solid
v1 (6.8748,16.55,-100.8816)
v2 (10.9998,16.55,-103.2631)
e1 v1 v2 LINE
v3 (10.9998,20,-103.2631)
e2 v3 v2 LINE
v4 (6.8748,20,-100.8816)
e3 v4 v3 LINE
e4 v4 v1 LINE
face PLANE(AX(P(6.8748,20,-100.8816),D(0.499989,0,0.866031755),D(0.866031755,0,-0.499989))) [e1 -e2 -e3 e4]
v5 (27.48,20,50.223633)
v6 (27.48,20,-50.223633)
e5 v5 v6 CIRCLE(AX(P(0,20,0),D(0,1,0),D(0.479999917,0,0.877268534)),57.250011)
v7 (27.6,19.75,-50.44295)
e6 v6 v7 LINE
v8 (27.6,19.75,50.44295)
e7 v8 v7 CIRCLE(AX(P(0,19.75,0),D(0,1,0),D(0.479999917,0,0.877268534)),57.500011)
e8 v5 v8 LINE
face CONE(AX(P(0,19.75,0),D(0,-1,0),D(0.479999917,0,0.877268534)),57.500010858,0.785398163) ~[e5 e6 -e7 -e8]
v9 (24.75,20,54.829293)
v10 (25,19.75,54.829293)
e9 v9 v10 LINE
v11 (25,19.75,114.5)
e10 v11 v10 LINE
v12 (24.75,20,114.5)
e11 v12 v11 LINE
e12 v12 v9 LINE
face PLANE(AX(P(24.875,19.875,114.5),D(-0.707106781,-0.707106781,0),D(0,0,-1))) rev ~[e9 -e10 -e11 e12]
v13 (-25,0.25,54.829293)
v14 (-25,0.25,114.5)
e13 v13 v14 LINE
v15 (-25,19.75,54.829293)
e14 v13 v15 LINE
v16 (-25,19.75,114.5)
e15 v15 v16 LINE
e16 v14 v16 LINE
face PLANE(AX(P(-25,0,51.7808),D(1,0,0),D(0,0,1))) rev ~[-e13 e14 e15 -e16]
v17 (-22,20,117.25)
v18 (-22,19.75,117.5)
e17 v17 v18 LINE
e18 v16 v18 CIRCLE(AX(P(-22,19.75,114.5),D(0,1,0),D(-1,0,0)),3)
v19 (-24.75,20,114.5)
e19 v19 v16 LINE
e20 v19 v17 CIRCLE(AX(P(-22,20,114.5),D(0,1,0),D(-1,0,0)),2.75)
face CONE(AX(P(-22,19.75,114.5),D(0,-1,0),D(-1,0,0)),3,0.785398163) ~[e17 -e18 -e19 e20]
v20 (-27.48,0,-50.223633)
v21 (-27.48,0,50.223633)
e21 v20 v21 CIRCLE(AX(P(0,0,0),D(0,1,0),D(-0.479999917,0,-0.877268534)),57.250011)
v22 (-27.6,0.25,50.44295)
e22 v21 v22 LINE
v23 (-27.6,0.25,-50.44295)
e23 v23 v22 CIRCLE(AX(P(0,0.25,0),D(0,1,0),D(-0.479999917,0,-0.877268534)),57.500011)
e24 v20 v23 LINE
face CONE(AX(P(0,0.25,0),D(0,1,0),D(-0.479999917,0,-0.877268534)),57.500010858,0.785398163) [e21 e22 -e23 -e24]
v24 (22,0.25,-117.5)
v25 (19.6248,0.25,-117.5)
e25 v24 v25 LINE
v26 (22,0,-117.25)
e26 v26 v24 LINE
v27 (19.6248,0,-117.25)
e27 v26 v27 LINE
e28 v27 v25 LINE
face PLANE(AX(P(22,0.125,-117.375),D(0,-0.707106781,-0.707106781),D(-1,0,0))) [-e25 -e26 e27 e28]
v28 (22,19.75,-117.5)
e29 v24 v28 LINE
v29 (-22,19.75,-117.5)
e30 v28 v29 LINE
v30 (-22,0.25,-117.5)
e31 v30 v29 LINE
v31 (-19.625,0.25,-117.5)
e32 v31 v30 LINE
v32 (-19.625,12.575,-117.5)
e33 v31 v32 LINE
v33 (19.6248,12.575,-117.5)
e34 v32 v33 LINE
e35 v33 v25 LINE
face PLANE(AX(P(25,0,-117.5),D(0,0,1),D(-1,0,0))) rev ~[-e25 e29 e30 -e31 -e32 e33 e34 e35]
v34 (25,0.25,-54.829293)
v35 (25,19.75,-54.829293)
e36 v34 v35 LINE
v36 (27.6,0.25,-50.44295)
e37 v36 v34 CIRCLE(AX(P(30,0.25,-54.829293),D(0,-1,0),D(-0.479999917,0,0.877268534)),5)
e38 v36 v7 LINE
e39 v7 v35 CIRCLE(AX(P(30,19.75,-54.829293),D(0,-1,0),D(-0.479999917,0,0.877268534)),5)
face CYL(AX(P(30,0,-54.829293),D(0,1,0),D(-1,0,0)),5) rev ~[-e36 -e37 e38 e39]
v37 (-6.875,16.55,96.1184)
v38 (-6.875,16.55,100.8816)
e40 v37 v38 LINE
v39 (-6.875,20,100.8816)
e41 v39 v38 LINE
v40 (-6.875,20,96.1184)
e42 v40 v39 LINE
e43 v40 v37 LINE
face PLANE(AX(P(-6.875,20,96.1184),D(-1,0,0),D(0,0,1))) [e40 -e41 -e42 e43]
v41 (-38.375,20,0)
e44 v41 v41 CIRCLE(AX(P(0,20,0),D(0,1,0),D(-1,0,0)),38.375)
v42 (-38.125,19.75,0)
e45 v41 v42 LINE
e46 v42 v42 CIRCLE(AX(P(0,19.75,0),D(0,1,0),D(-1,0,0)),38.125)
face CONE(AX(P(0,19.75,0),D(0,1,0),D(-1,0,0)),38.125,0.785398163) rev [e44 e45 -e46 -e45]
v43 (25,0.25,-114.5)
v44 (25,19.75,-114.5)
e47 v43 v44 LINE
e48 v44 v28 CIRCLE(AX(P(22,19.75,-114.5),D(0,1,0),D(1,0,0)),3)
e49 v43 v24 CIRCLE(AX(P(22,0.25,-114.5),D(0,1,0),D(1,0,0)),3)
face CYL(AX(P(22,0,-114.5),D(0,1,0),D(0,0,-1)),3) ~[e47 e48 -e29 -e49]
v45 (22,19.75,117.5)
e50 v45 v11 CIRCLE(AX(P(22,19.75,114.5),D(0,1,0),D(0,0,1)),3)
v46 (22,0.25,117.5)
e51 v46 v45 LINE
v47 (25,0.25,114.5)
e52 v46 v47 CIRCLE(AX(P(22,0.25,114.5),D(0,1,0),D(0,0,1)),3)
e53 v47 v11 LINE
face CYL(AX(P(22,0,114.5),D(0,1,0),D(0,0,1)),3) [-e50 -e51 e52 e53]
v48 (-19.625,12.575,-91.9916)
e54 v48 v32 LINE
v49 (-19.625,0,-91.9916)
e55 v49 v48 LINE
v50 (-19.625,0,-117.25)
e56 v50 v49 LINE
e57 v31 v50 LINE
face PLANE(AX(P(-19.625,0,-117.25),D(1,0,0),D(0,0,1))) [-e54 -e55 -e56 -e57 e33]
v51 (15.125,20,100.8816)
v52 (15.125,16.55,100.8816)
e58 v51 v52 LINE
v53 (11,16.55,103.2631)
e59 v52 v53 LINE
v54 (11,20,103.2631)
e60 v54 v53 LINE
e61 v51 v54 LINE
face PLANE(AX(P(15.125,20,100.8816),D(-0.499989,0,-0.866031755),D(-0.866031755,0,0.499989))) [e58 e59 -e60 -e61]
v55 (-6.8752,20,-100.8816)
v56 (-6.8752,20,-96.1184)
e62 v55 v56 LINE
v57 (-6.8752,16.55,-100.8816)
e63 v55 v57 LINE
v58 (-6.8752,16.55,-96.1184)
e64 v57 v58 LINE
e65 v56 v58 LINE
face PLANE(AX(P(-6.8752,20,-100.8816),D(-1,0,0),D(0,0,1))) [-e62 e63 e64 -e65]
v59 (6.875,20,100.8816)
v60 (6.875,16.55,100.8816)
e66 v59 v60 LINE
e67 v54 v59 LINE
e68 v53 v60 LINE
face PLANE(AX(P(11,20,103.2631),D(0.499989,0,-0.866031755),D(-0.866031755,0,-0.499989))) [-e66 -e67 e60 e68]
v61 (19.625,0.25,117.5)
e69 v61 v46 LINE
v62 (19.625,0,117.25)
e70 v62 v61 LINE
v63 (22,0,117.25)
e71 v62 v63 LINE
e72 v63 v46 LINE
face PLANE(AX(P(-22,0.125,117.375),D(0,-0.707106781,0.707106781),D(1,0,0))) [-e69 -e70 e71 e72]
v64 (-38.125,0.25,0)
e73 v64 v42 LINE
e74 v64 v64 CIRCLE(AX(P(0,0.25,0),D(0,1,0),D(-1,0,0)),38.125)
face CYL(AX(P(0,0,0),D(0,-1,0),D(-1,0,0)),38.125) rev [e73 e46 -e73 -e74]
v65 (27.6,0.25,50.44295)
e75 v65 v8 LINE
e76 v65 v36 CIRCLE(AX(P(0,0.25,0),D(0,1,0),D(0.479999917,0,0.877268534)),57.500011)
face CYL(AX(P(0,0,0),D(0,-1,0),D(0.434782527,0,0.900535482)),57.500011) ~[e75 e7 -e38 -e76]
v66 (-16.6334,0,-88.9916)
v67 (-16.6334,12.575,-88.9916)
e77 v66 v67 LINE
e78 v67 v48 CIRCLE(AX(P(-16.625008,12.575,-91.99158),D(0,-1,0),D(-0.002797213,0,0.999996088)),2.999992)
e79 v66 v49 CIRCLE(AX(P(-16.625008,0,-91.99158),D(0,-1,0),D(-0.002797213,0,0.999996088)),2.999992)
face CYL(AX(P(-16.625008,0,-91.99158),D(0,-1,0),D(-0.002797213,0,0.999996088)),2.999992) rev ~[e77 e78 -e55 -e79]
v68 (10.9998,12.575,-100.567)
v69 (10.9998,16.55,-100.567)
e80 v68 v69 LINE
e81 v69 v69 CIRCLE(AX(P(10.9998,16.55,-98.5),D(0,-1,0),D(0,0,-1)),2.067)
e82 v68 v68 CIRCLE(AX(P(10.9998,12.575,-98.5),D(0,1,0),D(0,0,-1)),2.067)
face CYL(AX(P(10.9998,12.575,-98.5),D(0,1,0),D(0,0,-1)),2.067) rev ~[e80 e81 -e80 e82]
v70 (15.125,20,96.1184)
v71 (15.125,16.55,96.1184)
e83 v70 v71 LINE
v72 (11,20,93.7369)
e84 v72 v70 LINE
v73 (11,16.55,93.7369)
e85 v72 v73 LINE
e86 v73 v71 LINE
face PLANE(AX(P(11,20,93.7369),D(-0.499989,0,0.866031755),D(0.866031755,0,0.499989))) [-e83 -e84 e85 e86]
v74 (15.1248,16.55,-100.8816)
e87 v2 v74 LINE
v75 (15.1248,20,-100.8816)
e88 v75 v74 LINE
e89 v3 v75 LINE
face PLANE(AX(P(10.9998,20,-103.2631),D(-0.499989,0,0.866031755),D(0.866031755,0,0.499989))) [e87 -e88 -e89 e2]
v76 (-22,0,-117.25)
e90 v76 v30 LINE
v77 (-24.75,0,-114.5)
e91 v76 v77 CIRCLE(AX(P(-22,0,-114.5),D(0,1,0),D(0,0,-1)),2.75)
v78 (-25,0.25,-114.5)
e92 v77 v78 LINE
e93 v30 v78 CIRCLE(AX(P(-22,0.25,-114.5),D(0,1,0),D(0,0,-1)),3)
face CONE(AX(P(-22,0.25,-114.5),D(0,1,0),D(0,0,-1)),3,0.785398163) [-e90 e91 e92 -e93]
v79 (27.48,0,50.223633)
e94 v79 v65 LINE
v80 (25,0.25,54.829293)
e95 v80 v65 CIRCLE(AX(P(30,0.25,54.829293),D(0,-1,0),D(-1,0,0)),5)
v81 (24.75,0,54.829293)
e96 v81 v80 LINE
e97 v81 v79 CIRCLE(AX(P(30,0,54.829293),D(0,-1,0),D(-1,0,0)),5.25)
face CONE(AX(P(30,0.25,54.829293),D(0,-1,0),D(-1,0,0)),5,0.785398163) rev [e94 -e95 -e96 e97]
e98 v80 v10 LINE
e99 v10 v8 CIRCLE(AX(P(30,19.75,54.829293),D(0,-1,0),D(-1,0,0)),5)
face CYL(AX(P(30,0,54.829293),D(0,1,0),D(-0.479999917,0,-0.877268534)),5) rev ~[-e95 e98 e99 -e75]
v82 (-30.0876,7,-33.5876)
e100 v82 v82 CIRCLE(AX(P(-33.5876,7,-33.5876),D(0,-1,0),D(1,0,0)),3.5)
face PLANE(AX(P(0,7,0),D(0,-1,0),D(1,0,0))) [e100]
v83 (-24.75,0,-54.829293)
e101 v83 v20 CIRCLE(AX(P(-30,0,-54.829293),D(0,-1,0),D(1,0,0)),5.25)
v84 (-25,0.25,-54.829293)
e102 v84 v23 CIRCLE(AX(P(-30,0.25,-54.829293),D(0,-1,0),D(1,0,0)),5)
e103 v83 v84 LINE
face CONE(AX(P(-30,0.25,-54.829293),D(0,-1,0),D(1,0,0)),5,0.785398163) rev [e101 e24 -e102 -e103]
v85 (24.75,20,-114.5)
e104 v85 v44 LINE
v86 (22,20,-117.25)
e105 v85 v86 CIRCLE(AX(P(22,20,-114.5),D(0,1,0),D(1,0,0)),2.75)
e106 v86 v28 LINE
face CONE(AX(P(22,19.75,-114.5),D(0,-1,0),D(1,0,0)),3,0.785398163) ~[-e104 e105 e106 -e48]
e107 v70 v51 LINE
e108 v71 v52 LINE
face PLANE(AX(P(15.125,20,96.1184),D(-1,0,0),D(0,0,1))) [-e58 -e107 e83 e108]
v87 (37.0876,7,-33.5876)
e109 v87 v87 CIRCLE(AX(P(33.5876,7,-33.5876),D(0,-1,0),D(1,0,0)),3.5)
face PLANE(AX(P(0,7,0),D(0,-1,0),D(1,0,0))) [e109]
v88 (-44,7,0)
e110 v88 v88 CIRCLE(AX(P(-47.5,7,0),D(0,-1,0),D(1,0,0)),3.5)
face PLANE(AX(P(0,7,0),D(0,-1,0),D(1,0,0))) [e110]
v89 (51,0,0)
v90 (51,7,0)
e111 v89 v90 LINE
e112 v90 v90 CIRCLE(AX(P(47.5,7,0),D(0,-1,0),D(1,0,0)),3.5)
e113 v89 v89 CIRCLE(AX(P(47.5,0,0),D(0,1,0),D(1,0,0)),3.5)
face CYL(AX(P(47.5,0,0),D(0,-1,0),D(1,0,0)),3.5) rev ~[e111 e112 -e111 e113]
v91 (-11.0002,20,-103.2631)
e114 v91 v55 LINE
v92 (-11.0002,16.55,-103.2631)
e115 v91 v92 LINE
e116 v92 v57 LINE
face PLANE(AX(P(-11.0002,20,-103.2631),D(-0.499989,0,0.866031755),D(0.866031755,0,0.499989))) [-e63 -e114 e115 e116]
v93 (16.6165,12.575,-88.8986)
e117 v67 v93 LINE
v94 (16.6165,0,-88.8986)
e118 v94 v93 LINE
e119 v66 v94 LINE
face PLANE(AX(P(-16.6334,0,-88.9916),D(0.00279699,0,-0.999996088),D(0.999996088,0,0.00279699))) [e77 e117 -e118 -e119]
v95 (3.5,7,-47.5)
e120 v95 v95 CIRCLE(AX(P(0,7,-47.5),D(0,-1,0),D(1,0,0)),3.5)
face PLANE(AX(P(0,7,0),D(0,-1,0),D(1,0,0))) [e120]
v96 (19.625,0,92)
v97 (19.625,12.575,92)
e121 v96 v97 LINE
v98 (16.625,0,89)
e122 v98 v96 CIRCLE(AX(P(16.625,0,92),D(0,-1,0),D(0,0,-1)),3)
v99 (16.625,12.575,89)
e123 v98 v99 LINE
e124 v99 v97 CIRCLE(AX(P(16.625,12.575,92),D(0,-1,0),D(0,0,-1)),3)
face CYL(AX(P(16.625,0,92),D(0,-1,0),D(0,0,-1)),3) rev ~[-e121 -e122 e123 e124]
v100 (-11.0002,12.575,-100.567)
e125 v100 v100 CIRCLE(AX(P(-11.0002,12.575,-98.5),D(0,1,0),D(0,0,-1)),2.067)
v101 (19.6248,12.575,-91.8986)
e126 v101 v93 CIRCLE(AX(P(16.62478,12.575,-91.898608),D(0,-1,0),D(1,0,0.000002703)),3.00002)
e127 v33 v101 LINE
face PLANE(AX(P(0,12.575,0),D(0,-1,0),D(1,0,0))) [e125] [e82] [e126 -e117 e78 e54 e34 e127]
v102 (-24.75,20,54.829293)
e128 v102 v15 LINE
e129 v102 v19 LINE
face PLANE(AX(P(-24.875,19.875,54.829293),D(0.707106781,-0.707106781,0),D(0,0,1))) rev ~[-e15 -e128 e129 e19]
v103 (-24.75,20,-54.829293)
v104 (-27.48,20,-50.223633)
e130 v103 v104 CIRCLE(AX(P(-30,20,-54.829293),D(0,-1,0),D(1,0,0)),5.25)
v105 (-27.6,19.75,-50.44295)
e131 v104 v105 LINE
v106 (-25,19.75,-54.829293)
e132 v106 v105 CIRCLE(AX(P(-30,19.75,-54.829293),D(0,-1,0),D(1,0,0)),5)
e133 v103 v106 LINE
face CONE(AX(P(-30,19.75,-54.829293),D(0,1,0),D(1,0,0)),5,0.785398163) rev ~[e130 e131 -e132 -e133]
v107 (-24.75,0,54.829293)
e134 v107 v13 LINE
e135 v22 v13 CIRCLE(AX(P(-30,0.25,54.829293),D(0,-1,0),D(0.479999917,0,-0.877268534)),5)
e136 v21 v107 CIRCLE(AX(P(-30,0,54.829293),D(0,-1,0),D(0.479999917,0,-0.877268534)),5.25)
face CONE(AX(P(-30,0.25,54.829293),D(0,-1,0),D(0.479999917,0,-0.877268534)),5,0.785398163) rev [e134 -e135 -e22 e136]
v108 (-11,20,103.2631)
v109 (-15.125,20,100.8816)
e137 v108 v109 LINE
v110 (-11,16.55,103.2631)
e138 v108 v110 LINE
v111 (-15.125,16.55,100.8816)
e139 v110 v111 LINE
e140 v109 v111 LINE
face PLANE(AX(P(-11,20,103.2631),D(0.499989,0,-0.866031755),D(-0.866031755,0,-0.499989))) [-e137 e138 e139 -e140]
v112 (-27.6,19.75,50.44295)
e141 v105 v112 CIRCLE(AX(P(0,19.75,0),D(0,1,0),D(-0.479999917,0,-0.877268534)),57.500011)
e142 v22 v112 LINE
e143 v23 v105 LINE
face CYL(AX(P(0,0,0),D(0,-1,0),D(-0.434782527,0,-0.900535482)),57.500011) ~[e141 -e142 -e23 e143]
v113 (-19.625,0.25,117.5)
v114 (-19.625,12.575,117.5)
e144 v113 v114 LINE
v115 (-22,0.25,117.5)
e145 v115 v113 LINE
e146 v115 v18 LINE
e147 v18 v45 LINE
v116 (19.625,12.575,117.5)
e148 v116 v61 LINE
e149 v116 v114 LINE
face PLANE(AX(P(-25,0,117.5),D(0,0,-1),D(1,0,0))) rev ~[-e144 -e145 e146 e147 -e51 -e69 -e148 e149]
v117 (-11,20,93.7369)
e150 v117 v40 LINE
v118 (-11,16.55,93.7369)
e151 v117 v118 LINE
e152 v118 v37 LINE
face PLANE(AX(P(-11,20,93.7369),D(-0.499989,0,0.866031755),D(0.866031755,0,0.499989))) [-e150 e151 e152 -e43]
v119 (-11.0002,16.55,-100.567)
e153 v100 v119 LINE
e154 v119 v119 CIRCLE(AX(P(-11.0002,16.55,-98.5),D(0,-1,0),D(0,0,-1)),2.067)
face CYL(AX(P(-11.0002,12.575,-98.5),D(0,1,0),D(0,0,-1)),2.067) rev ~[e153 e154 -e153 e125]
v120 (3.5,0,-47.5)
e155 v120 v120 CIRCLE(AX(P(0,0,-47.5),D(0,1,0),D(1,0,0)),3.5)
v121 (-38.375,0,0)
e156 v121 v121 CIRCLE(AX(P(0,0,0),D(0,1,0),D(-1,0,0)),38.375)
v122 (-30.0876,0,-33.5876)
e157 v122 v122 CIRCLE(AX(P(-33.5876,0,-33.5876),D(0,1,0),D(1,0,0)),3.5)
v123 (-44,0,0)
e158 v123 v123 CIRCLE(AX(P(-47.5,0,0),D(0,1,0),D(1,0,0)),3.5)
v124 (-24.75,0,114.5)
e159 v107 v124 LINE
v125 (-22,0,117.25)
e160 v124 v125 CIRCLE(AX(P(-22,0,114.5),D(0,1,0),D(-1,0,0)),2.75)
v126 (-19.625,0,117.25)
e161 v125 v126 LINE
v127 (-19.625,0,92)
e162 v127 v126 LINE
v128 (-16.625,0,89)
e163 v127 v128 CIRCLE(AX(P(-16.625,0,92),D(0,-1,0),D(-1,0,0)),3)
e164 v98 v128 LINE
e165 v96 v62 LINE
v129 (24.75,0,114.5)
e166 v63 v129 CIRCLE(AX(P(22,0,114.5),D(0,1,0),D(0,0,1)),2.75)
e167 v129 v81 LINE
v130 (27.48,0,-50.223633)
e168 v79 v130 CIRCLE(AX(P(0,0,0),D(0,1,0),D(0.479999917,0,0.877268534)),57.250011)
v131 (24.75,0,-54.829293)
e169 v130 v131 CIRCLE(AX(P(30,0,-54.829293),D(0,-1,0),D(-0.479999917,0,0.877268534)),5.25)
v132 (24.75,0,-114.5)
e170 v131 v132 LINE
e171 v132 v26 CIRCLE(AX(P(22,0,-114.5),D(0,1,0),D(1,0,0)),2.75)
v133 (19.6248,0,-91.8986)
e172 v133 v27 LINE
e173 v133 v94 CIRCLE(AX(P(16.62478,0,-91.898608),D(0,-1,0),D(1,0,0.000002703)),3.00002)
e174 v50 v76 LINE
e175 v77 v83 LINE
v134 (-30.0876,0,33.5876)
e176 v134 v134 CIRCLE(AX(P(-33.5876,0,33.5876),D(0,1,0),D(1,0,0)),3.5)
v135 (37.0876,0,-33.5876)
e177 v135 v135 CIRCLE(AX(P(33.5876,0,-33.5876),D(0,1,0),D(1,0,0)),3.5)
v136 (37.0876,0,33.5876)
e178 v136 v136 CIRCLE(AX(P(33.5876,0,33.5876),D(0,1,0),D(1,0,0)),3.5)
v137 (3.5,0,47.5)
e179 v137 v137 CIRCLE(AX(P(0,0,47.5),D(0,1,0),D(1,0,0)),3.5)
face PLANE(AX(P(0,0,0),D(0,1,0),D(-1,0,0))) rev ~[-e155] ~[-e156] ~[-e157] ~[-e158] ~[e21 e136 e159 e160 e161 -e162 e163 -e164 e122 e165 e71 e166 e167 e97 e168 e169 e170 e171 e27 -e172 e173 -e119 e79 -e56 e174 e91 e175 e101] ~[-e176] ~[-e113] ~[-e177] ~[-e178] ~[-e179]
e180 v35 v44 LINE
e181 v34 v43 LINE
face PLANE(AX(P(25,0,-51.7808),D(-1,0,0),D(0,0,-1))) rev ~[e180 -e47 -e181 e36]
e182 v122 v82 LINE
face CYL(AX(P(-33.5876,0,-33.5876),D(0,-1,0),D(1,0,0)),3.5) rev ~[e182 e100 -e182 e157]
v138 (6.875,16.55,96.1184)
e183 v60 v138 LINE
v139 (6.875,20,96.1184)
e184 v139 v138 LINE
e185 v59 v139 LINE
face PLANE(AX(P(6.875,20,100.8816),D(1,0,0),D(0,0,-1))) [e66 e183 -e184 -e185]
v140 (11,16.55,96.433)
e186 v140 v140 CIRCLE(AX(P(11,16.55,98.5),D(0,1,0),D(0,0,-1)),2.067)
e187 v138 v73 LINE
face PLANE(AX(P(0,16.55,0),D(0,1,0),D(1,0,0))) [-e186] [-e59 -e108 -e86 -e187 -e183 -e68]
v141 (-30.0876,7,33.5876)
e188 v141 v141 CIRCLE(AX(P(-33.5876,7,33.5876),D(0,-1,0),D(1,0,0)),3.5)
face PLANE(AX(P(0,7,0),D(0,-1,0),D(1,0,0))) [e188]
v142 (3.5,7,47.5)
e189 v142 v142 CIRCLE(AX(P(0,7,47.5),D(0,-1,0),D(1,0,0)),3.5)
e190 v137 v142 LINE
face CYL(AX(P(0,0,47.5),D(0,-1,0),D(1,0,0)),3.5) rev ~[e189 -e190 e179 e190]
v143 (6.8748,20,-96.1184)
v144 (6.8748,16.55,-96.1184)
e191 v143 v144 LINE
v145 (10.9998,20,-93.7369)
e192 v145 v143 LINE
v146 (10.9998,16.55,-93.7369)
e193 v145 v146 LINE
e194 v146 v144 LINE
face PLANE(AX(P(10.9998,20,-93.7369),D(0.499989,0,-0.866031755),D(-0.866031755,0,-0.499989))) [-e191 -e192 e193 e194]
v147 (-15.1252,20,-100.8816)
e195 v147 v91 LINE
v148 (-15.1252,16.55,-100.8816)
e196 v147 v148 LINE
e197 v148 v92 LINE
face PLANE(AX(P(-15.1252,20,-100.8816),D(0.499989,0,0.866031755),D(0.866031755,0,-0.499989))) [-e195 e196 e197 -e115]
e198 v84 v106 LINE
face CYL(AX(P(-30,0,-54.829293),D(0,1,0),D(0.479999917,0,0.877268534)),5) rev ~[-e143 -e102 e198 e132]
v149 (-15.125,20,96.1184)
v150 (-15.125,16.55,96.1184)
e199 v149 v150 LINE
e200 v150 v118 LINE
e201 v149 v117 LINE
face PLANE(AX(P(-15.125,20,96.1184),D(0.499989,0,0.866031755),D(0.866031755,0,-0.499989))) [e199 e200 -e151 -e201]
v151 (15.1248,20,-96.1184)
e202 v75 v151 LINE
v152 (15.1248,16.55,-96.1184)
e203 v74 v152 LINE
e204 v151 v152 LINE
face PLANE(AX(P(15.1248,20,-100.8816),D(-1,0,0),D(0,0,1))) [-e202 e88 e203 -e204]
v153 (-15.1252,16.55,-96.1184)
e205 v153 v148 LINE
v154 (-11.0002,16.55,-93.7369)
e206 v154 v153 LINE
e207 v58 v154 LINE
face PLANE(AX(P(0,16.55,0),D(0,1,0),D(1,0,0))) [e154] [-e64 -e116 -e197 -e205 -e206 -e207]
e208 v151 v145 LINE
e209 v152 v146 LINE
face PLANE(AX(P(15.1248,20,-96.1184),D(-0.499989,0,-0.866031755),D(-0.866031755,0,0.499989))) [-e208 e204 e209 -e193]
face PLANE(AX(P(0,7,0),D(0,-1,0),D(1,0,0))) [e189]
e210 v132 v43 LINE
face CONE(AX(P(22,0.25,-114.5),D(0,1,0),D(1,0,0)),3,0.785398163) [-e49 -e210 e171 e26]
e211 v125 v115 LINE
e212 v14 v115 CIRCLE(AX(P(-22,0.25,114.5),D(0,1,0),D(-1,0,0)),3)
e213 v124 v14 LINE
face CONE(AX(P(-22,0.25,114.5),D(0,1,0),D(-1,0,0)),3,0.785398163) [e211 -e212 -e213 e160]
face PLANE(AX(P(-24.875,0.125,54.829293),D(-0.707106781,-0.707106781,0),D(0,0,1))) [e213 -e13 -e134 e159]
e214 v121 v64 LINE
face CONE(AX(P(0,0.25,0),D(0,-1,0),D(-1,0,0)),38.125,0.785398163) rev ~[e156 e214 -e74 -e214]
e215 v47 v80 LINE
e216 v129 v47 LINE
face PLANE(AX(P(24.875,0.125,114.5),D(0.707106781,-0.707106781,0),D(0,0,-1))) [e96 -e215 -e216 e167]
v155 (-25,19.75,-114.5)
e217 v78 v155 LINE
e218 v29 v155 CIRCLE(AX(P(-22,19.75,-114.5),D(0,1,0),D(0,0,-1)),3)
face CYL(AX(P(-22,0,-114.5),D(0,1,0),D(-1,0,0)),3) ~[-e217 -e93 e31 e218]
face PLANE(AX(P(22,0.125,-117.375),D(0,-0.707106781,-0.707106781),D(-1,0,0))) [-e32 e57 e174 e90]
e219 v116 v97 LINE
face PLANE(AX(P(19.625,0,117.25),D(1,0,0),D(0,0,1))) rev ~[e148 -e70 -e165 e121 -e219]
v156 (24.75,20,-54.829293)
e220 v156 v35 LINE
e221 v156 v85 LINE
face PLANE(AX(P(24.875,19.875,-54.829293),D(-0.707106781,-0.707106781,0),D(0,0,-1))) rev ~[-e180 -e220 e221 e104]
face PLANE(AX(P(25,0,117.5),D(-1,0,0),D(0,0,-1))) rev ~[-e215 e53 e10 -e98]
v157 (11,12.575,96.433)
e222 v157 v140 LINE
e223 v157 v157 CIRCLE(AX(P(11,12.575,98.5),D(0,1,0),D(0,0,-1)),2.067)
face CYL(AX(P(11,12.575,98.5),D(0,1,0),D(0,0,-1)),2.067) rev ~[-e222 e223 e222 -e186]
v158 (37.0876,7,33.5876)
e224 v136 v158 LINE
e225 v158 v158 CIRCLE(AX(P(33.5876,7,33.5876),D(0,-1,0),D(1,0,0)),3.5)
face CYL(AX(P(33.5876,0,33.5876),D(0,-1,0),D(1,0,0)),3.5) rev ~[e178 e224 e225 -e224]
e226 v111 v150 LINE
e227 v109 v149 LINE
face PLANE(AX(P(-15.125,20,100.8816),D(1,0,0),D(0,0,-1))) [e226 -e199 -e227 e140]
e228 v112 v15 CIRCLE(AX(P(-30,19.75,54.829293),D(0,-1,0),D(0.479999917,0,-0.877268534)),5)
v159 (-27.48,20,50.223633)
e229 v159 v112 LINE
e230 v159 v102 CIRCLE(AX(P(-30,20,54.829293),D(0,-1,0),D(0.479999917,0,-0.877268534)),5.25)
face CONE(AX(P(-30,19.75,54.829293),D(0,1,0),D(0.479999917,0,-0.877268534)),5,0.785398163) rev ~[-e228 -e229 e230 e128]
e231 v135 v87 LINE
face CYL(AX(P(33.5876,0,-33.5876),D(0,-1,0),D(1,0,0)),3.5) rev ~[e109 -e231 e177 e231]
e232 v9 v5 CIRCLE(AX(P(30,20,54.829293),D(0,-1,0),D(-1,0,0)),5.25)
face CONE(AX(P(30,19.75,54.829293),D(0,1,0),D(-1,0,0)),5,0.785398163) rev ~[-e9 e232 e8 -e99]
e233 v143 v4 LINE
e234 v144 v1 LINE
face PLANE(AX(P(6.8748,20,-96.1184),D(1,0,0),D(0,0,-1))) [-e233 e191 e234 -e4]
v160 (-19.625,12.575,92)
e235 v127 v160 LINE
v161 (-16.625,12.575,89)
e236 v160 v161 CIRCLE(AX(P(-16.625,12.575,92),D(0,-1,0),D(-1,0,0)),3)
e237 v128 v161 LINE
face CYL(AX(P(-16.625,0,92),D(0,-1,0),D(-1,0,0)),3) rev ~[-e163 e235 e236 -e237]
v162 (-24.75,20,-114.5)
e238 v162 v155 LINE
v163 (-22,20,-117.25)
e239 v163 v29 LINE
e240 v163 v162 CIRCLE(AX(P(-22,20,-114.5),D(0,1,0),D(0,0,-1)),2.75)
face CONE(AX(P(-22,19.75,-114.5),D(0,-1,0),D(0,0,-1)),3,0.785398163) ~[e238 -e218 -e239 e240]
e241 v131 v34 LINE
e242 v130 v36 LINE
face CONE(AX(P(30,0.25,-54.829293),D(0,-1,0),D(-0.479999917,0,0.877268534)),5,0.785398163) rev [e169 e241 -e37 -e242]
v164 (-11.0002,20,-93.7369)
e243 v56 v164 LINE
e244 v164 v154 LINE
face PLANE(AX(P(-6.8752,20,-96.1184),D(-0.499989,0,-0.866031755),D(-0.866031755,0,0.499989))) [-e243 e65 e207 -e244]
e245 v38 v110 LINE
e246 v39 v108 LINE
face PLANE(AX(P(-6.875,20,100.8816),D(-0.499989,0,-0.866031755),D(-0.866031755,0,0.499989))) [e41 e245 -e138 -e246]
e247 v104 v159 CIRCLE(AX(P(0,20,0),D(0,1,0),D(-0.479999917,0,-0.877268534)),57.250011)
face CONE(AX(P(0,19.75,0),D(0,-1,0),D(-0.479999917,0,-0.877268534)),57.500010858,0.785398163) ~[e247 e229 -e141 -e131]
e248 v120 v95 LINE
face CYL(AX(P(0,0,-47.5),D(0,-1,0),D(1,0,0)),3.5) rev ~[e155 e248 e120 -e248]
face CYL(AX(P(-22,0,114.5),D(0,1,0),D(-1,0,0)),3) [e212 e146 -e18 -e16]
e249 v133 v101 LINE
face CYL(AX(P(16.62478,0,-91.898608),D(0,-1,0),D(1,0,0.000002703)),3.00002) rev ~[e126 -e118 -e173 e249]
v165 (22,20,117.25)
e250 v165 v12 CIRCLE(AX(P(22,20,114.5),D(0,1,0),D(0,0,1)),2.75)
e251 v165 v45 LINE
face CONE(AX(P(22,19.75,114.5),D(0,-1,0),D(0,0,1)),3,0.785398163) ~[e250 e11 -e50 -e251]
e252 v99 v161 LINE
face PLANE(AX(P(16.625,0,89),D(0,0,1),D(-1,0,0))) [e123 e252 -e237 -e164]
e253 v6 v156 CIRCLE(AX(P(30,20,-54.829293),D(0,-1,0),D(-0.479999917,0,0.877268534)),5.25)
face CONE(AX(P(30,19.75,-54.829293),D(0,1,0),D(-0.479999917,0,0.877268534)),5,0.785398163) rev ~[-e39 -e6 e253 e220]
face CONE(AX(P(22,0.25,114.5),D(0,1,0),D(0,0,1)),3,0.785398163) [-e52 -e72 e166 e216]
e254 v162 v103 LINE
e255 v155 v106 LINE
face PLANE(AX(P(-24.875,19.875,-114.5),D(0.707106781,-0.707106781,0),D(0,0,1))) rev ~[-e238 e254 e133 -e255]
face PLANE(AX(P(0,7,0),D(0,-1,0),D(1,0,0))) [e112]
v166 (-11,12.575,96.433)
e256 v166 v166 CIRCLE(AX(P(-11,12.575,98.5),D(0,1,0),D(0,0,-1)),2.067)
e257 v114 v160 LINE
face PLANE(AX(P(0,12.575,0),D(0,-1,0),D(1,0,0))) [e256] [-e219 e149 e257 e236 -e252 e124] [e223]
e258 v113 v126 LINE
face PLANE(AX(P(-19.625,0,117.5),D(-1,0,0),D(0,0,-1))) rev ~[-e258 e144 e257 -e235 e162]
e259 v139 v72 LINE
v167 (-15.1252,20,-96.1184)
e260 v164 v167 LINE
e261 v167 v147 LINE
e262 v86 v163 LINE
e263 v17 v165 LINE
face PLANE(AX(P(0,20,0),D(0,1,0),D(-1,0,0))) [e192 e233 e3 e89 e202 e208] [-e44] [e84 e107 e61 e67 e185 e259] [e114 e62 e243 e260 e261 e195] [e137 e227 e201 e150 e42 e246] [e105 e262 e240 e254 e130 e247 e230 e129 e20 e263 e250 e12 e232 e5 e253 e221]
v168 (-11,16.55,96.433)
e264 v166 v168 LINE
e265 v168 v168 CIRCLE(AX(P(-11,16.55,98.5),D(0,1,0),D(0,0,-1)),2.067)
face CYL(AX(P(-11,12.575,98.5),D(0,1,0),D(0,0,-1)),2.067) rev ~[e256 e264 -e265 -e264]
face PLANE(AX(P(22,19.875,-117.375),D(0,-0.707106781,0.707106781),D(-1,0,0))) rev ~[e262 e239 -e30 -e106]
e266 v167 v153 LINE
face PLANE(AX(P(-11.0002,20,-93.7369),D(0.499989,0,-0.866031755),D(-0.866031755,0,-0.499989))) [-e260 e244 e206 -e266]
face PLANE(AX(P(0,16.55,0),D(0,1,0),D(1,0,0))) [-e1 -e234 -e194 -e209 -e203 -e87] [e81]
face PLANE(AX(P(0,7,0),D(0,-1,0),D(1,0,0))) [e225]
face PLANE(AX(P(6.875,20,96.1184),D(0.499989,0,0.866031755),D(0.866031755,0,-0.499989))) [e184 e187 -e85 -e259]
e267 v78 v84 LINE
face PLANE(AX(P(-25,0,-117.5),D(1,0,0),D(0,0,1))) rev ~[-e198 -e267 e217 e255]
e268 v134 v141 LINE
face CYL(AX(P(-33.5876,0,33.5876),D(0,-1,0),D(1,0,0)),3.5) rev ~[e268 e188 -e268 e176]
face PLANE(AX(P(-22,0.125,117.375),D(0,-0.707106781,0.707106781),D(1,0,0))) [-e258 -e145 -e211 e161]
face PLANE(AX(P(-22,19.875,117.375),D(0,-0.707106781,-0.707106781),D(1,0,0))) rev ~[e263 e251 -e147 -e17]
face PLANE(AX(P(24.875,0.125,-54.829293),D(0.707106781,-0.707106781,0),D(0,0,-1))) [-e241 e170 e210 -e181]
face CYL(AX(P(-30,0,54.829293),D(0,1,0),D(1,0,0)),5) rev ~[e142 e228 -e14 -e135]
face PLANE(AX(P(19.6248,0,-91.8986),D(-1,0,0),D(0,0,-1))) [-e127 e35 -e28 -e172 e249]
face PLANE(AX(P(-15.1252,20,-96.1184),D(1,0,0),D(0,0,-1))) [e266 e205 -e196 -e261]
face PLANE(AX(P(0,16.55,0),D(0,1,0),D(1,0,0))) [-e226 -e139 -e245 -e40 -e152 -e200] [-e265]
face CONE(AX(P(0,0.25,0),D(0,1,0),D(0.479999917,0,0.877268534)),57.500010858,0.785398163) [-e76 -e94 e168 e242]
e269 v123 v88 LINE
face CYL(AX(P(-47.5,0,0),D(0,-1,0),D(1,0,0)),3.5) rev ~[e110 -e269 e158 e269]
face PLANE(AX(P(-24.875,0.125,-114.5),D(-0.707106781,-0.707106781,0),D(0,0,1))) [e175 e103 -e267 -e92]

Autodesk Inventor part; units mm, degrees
ref_plane "YZ Plane" through (0, 0, 0) normal (1, 0, 0) x (0, 1, 0)
ref_plane "XZ Plane" through (0, 0, 0) normal (0, 1, 0) x (-1, 0, 0)
ref_plane "XY Plane" through (0, 0, 0) normal (0, 0, 1) x (1, 0, 0)
sketch "Sketch1" plane through (0, 0, 0) normal (0, 1, 0) x (-1, 0, 0)
  circle A0 centre (0, 0) radius 38.125
  line L0 (25, 117.5) -> (-25, 117.5)
  line L1 (-25, -117.5) -> (25, -117.5)
  arc A1 (-25, 51.7808) -> (-25, -51.7808) centre (0, 0) ccw
  arc A2 (25, -51.7808) -> (25, 51.7808) centre (0, 0) ccw
  line L2 (-25, 117.5) -> (-25, 51.7808)
  line L3 (-25, -51.7808) -> (-25, -117.5)
  line L4 (25, -117.5) -> (25, -51.7808)
  line L5 (25, 51.7808) -> (25, 117.5)
  dimension "d0" = 76.25
  dimension "d76" = 50
  dimension "d77" = 57.5
  dimension "d78" = 57.5
  dimension "d79" = 65.7192
  dimension "d80" = 65.7192
  dimension "d81" = 50
  dimension "d82" = 235
extrude "Extrusion1" add sketch "Sketch1" along normal blind 20
fillet "Fillet1" radius 5 4 edges at (-25, 10, 51.7808) (25, 10, 51.7808) (25, 10, -51.7808) (-25, 10, -51.7808)
fillet "Fillet2" radius 3 4 edges at (25, 10, 117.5) (-25, 10, 117.5) (25, 10, -117.5) (-25, 10, -117.5)
chamfer "Chamfer1" distance 0.25 angle 45 26 edges at (25, 20, 84.6646) (57.5, 20, 0) (25, 20, -84.6646) (24.1213, 20, -116.6213) (0, 20, -117.5) (-24.1213, 20, -116.6213) (-25, 20, -84.6646) (-57.5, 20, 0) (-25, 20, 84.6646) (-24.1213, 20, 116.6213) (0, 20, 117.5) (24.1213, 20, 116.6213) (25, 0, 84.6646) (57.5, 0, 0) (25, 0, -84.6646) (24.1213, 0, -116.6213) (0, 0, -117.5) (-24.1213, 0, -116.6213) (-25, 0, -84.6646) (-57.5, 0, 0) (-25, 0, 84.6646) (-24.1213, 0, 116.6213) (0, 0, 117.5) (24.1213, 0, 116.6213) (38.125, 20, 0) (38.125, 0, 0)
sketch "Sketch3" plane through (0, 0, 0) normal (0, -1, 0) x (1, 0, 0)
  line L0 (-22, -117.25) -> (-22, 117.25)
  line L1 (22, 117.25) -> (22, -117.25)
  line L2 (22, -117.25) -> (-22, 117.25) construction
  line L3 (-22, -117.25) -> (22, 117.25) construction
  line L4 (16.625, 89) -> (-16.625, 89)
  line L5 (-19.625, 92) -> (-19.625, 117.25)
  line L6 (19.625, 117.25) -> (19.625, 92)
  line L7 (19.625, 89) -> (17.4099, 92.7868) construction
  line L8 (-19.625, 89) -> (-17.1837, 91.5811) construction
  line L9 (-19.625, -117.25) -> (-19.625, -91.9916)
  line L10 (-16.6334, -88.9916) -> (16.6165, -88.8986)
  line L11 (19.6248, -91.8986) -> (19.6248, -117.25)
  line L12 (-17.2012, -91.6745) -> (-19.625, -89) construction
  line L13 (17.2501, -91.935) -> (19.6248, -88.8902) construction
  line L14 (22, 117.25) -> (19.625, 117.25)
  line L15 (-22, 117.5) -> (22, 117.5) projected
  line L16 (-19.625, 117.25) -> (-22, 117.25)
  arc A0 (-16.6334, -88.9916) -> (-19.625, -91.9916) centre (-16.625, -91.9916) ccw
  arc A1 (19.6248, -91.8986) -> (16.6165, -88.8986) centre (16.6248, -91.8986) ccw
  arc A2 (-19.625, 92) -> (-16.625, 89) centre (-16.625, 92) ccw
  arc A3 (16.625, 89) -> (19.625, 92) centre (16.625, 92) ccw
  line L17 (19.6248, -117.25) -> (19.6248, -121.1164)
  line L18 (19.6248, -121.1164) -> (-19.625, -121.1164)
  line L19 (-19.625, -121.1164) -> (-19.625, -117.25)
  line L20 (19.625, 117.25) -> (19.625, 123.825)
  line L21 (19.625, 123.825) -> (-19.625, 123.825)
  line L22 (-19.625, 123.825) -> (-19.625, 117.25)
  line L23 (19.625, 117.25) -> (19.6248, 117.25)
  line L24 (22, -117.25) -> (19.6248, -117.25)
  line L25 (-19.625, -117.25) -> (-22, -117.25)
  point P0 (0, 0)
  point P1 (-19.625, 117.5)
  point P2 (19.625, 117.5)
  dimension "d35" = 39.25
  dimension "d37" = 28.25
  dimension "d38" = 28.25
  dimension "d39" = 39.25
  dimension "d40" = 3
  dimension "d41" = 3
  dimension "d42" = 3
  dimension "d50" = 2.375
  dimension "d51" = 2.375
  dimension "d52" = 44
  dimension "d53" = 39.2499
  dimension "d55" = 2.3752
  dimension "d56" = 2.375
  dimension "d83" = 234.5
extrude "Extrusion4" cut sketch "Sketch3" against normal blind 12.575 contours L9 A0 L10 A1 L11 L17 L18 L19 | L22 L15 L20 L6 A3 L4 A2 L5 | L22 L21 L20 L15
sketch "Sketch4" plane through (0, 12.575, 0) normal (0, -1, 0) x (1, 0, 0)
  circle A0 centre (11, 98.5) radius 2.2451
  circle A1 centre (-11, 98.5) radius 2.3292
  circle A2 centre (10.9998, -98.5) radius 1.5784
  circle A3 centre (-11.0002, -98.5) radius 2.3162
  line L0 (19.6248, -117.5) -> (-19.625, -117.5) projected
  line L1 (-19.625, -117.5) -> (-19.625, -91.9916) projected
  line L2 (19.6248, -91.8986) -> (19.6248, -117.5) projected
  line L3 (-19.625, 117.5) -> (19.625, 117.5) projected
  line L4 (19.625, 117.25) -> (19.625, 92) projected
  point P0 (0, 0)
  point P1 (-19.625, -117.25)
  point P2 (19.6248, -117.25)
  dimension "d45" = 19
  dimension "d48" = 19
  dimension "d57" = 19
  dimension "d58" = 19
  dimension "d59" = 22
  dimension "d60" = 22
  dimension "d61" = 8.625
  dimension "d62" = 8.625
hole "Hole2" at (11, 12.575, 98.5) at (-11, 12.575, 98.5) at (10.9998, 12.575, -98.5) at (-11.0002, 12.575, -98.5) direction (0, 1, 0) diameter 4.134 end through all thread size "M5x0.8" class "6H" standard "ANSI Metric M Profile"
sketch "Sketch5" plane through (0, 20, 0) normal (0, 1, 0) x (1, 0, 0)
  circle A0 centre (-11, -98.5) radius 2.067 projected
  line L0 (-11, -93.7369) -> (-6.875, -96.1184)
  line L1 (-6.875, -96.1184) -> (-6.875, -100.8816)
  line L2 (-6.875, -100.8816) -> (-11, -103.2631)
  line L3 (-11, -103.2631) -> (-15.125, -100.8816)
  line L4 (-15.125, -100.8816) -> (-15.125, -96.1184)
  line L5 (-15.125, -96.1184) -> (-11, -93.7369)
  circle A1 centre (11, -98.5) radius 2.067 projected
  line L6 (11, -93.7369) -> (15.125, -96.1184)
  line L7 (15.125, -96.1184) -> (15.125, -100.8816)
  line L8 (15.125, -100.8816) -> (11, -103.2631)
  line L9 (11, -103.2631) -> (6.875, -100.8816)
  line L10 (6.875, -100.8816) -> (6.875, -96.1184)
  line L11 (6.875, -96.1184) -> (11, -93.7369)
  circle A2 centre (-11.0002, 98.5) radius 2.067 projected
  line L12 (-11.0002, 93.7369) -> (-15.1252, 96.1184)
  line L13 (-15.1252, 96.1184) -> (-15.1252, 100.8816)
  line L14 (-15.1252, 100.8816) -> (-11.0002, 103.2631)
  line L15 (-11.0002, 103.2631) -> (-6.8752, 100.8816)
  line L16 (-6.8752, 100.8816) -> (-6.8752, 96.1184)
  line L17 (-6.8752, 96.1184) -> (-11.0002, 93.7369)
  circle A3 centre (10.9998, 98.5) radius 2.067 projected
  line L18 (10.9998, 103.2631) -> (15.1248, 100.8816)
  line L19 (15.1248, 100.8816) -> (15.1248, 96.1184)
  line L20 (15.1248, 96.1184) -> (10.9998, 93.7369)
  line L21 (10.9998, 93.7369) -> (6.8748, 96.1184)
  line L22 (6.8748, 96.1184) -> (6.8748, 100.8816)
  line L23 (6.8748, 100.8816) -> (10.9998, 103.2631)
  point P0 (0, 0)
  point P1 (-13.0625, -102.0724)
  point P2 (-8.9377, 94.9276)
  dimension "d70" = 8.25
  dimension "d71" = 8.25
  dimension "d72" = 8.25
  dimension "d73" = 8.25
extrude "Extrusion5" cut sketch "Sketch5" against normal blind 3.45
sketch "Sketch6" plane through (0, 0, 0) normal (0, -1, 0) x (1, 0, 0)
  circle A0 centre (0, 0) radius 47.5
  circle A1 centre (0, -47.5) radius 3.5
  circle A2 centre (33.5876, -33.5876) radius 3.5
  circle A3 centre (47.5, 0) radius 3.5
  circle A4 centre (33.5876, 33.5876) radius 3.5
  circle A5 centre (0, 47.5) radius 3.5
  circle A6 centre (-33.5876, 33.5876) radius 3.5
  circle A7 centre (-47.5, 0) radius 3.5
  circle A8 centre (-33.5876, -33.5876) radius 3.5
  dimension "d84" = 95
  dimension "d85" = 7
  dimension "d88" = 360
extrude "Extrusion6" cut sketch "Sketch6" against normal blind 7 contours A0 A3 | A0 A3 | A4 A0 | A0 A4 | A2 A0 | A0 A2 | A5 A0 | A0 A5 | A1 A0 | A0 A1 | A6 A0 | A0 A6 | A8 A0 | A0 A8 | A7 A0 | A0 A7
properties part number "Head Thing"
